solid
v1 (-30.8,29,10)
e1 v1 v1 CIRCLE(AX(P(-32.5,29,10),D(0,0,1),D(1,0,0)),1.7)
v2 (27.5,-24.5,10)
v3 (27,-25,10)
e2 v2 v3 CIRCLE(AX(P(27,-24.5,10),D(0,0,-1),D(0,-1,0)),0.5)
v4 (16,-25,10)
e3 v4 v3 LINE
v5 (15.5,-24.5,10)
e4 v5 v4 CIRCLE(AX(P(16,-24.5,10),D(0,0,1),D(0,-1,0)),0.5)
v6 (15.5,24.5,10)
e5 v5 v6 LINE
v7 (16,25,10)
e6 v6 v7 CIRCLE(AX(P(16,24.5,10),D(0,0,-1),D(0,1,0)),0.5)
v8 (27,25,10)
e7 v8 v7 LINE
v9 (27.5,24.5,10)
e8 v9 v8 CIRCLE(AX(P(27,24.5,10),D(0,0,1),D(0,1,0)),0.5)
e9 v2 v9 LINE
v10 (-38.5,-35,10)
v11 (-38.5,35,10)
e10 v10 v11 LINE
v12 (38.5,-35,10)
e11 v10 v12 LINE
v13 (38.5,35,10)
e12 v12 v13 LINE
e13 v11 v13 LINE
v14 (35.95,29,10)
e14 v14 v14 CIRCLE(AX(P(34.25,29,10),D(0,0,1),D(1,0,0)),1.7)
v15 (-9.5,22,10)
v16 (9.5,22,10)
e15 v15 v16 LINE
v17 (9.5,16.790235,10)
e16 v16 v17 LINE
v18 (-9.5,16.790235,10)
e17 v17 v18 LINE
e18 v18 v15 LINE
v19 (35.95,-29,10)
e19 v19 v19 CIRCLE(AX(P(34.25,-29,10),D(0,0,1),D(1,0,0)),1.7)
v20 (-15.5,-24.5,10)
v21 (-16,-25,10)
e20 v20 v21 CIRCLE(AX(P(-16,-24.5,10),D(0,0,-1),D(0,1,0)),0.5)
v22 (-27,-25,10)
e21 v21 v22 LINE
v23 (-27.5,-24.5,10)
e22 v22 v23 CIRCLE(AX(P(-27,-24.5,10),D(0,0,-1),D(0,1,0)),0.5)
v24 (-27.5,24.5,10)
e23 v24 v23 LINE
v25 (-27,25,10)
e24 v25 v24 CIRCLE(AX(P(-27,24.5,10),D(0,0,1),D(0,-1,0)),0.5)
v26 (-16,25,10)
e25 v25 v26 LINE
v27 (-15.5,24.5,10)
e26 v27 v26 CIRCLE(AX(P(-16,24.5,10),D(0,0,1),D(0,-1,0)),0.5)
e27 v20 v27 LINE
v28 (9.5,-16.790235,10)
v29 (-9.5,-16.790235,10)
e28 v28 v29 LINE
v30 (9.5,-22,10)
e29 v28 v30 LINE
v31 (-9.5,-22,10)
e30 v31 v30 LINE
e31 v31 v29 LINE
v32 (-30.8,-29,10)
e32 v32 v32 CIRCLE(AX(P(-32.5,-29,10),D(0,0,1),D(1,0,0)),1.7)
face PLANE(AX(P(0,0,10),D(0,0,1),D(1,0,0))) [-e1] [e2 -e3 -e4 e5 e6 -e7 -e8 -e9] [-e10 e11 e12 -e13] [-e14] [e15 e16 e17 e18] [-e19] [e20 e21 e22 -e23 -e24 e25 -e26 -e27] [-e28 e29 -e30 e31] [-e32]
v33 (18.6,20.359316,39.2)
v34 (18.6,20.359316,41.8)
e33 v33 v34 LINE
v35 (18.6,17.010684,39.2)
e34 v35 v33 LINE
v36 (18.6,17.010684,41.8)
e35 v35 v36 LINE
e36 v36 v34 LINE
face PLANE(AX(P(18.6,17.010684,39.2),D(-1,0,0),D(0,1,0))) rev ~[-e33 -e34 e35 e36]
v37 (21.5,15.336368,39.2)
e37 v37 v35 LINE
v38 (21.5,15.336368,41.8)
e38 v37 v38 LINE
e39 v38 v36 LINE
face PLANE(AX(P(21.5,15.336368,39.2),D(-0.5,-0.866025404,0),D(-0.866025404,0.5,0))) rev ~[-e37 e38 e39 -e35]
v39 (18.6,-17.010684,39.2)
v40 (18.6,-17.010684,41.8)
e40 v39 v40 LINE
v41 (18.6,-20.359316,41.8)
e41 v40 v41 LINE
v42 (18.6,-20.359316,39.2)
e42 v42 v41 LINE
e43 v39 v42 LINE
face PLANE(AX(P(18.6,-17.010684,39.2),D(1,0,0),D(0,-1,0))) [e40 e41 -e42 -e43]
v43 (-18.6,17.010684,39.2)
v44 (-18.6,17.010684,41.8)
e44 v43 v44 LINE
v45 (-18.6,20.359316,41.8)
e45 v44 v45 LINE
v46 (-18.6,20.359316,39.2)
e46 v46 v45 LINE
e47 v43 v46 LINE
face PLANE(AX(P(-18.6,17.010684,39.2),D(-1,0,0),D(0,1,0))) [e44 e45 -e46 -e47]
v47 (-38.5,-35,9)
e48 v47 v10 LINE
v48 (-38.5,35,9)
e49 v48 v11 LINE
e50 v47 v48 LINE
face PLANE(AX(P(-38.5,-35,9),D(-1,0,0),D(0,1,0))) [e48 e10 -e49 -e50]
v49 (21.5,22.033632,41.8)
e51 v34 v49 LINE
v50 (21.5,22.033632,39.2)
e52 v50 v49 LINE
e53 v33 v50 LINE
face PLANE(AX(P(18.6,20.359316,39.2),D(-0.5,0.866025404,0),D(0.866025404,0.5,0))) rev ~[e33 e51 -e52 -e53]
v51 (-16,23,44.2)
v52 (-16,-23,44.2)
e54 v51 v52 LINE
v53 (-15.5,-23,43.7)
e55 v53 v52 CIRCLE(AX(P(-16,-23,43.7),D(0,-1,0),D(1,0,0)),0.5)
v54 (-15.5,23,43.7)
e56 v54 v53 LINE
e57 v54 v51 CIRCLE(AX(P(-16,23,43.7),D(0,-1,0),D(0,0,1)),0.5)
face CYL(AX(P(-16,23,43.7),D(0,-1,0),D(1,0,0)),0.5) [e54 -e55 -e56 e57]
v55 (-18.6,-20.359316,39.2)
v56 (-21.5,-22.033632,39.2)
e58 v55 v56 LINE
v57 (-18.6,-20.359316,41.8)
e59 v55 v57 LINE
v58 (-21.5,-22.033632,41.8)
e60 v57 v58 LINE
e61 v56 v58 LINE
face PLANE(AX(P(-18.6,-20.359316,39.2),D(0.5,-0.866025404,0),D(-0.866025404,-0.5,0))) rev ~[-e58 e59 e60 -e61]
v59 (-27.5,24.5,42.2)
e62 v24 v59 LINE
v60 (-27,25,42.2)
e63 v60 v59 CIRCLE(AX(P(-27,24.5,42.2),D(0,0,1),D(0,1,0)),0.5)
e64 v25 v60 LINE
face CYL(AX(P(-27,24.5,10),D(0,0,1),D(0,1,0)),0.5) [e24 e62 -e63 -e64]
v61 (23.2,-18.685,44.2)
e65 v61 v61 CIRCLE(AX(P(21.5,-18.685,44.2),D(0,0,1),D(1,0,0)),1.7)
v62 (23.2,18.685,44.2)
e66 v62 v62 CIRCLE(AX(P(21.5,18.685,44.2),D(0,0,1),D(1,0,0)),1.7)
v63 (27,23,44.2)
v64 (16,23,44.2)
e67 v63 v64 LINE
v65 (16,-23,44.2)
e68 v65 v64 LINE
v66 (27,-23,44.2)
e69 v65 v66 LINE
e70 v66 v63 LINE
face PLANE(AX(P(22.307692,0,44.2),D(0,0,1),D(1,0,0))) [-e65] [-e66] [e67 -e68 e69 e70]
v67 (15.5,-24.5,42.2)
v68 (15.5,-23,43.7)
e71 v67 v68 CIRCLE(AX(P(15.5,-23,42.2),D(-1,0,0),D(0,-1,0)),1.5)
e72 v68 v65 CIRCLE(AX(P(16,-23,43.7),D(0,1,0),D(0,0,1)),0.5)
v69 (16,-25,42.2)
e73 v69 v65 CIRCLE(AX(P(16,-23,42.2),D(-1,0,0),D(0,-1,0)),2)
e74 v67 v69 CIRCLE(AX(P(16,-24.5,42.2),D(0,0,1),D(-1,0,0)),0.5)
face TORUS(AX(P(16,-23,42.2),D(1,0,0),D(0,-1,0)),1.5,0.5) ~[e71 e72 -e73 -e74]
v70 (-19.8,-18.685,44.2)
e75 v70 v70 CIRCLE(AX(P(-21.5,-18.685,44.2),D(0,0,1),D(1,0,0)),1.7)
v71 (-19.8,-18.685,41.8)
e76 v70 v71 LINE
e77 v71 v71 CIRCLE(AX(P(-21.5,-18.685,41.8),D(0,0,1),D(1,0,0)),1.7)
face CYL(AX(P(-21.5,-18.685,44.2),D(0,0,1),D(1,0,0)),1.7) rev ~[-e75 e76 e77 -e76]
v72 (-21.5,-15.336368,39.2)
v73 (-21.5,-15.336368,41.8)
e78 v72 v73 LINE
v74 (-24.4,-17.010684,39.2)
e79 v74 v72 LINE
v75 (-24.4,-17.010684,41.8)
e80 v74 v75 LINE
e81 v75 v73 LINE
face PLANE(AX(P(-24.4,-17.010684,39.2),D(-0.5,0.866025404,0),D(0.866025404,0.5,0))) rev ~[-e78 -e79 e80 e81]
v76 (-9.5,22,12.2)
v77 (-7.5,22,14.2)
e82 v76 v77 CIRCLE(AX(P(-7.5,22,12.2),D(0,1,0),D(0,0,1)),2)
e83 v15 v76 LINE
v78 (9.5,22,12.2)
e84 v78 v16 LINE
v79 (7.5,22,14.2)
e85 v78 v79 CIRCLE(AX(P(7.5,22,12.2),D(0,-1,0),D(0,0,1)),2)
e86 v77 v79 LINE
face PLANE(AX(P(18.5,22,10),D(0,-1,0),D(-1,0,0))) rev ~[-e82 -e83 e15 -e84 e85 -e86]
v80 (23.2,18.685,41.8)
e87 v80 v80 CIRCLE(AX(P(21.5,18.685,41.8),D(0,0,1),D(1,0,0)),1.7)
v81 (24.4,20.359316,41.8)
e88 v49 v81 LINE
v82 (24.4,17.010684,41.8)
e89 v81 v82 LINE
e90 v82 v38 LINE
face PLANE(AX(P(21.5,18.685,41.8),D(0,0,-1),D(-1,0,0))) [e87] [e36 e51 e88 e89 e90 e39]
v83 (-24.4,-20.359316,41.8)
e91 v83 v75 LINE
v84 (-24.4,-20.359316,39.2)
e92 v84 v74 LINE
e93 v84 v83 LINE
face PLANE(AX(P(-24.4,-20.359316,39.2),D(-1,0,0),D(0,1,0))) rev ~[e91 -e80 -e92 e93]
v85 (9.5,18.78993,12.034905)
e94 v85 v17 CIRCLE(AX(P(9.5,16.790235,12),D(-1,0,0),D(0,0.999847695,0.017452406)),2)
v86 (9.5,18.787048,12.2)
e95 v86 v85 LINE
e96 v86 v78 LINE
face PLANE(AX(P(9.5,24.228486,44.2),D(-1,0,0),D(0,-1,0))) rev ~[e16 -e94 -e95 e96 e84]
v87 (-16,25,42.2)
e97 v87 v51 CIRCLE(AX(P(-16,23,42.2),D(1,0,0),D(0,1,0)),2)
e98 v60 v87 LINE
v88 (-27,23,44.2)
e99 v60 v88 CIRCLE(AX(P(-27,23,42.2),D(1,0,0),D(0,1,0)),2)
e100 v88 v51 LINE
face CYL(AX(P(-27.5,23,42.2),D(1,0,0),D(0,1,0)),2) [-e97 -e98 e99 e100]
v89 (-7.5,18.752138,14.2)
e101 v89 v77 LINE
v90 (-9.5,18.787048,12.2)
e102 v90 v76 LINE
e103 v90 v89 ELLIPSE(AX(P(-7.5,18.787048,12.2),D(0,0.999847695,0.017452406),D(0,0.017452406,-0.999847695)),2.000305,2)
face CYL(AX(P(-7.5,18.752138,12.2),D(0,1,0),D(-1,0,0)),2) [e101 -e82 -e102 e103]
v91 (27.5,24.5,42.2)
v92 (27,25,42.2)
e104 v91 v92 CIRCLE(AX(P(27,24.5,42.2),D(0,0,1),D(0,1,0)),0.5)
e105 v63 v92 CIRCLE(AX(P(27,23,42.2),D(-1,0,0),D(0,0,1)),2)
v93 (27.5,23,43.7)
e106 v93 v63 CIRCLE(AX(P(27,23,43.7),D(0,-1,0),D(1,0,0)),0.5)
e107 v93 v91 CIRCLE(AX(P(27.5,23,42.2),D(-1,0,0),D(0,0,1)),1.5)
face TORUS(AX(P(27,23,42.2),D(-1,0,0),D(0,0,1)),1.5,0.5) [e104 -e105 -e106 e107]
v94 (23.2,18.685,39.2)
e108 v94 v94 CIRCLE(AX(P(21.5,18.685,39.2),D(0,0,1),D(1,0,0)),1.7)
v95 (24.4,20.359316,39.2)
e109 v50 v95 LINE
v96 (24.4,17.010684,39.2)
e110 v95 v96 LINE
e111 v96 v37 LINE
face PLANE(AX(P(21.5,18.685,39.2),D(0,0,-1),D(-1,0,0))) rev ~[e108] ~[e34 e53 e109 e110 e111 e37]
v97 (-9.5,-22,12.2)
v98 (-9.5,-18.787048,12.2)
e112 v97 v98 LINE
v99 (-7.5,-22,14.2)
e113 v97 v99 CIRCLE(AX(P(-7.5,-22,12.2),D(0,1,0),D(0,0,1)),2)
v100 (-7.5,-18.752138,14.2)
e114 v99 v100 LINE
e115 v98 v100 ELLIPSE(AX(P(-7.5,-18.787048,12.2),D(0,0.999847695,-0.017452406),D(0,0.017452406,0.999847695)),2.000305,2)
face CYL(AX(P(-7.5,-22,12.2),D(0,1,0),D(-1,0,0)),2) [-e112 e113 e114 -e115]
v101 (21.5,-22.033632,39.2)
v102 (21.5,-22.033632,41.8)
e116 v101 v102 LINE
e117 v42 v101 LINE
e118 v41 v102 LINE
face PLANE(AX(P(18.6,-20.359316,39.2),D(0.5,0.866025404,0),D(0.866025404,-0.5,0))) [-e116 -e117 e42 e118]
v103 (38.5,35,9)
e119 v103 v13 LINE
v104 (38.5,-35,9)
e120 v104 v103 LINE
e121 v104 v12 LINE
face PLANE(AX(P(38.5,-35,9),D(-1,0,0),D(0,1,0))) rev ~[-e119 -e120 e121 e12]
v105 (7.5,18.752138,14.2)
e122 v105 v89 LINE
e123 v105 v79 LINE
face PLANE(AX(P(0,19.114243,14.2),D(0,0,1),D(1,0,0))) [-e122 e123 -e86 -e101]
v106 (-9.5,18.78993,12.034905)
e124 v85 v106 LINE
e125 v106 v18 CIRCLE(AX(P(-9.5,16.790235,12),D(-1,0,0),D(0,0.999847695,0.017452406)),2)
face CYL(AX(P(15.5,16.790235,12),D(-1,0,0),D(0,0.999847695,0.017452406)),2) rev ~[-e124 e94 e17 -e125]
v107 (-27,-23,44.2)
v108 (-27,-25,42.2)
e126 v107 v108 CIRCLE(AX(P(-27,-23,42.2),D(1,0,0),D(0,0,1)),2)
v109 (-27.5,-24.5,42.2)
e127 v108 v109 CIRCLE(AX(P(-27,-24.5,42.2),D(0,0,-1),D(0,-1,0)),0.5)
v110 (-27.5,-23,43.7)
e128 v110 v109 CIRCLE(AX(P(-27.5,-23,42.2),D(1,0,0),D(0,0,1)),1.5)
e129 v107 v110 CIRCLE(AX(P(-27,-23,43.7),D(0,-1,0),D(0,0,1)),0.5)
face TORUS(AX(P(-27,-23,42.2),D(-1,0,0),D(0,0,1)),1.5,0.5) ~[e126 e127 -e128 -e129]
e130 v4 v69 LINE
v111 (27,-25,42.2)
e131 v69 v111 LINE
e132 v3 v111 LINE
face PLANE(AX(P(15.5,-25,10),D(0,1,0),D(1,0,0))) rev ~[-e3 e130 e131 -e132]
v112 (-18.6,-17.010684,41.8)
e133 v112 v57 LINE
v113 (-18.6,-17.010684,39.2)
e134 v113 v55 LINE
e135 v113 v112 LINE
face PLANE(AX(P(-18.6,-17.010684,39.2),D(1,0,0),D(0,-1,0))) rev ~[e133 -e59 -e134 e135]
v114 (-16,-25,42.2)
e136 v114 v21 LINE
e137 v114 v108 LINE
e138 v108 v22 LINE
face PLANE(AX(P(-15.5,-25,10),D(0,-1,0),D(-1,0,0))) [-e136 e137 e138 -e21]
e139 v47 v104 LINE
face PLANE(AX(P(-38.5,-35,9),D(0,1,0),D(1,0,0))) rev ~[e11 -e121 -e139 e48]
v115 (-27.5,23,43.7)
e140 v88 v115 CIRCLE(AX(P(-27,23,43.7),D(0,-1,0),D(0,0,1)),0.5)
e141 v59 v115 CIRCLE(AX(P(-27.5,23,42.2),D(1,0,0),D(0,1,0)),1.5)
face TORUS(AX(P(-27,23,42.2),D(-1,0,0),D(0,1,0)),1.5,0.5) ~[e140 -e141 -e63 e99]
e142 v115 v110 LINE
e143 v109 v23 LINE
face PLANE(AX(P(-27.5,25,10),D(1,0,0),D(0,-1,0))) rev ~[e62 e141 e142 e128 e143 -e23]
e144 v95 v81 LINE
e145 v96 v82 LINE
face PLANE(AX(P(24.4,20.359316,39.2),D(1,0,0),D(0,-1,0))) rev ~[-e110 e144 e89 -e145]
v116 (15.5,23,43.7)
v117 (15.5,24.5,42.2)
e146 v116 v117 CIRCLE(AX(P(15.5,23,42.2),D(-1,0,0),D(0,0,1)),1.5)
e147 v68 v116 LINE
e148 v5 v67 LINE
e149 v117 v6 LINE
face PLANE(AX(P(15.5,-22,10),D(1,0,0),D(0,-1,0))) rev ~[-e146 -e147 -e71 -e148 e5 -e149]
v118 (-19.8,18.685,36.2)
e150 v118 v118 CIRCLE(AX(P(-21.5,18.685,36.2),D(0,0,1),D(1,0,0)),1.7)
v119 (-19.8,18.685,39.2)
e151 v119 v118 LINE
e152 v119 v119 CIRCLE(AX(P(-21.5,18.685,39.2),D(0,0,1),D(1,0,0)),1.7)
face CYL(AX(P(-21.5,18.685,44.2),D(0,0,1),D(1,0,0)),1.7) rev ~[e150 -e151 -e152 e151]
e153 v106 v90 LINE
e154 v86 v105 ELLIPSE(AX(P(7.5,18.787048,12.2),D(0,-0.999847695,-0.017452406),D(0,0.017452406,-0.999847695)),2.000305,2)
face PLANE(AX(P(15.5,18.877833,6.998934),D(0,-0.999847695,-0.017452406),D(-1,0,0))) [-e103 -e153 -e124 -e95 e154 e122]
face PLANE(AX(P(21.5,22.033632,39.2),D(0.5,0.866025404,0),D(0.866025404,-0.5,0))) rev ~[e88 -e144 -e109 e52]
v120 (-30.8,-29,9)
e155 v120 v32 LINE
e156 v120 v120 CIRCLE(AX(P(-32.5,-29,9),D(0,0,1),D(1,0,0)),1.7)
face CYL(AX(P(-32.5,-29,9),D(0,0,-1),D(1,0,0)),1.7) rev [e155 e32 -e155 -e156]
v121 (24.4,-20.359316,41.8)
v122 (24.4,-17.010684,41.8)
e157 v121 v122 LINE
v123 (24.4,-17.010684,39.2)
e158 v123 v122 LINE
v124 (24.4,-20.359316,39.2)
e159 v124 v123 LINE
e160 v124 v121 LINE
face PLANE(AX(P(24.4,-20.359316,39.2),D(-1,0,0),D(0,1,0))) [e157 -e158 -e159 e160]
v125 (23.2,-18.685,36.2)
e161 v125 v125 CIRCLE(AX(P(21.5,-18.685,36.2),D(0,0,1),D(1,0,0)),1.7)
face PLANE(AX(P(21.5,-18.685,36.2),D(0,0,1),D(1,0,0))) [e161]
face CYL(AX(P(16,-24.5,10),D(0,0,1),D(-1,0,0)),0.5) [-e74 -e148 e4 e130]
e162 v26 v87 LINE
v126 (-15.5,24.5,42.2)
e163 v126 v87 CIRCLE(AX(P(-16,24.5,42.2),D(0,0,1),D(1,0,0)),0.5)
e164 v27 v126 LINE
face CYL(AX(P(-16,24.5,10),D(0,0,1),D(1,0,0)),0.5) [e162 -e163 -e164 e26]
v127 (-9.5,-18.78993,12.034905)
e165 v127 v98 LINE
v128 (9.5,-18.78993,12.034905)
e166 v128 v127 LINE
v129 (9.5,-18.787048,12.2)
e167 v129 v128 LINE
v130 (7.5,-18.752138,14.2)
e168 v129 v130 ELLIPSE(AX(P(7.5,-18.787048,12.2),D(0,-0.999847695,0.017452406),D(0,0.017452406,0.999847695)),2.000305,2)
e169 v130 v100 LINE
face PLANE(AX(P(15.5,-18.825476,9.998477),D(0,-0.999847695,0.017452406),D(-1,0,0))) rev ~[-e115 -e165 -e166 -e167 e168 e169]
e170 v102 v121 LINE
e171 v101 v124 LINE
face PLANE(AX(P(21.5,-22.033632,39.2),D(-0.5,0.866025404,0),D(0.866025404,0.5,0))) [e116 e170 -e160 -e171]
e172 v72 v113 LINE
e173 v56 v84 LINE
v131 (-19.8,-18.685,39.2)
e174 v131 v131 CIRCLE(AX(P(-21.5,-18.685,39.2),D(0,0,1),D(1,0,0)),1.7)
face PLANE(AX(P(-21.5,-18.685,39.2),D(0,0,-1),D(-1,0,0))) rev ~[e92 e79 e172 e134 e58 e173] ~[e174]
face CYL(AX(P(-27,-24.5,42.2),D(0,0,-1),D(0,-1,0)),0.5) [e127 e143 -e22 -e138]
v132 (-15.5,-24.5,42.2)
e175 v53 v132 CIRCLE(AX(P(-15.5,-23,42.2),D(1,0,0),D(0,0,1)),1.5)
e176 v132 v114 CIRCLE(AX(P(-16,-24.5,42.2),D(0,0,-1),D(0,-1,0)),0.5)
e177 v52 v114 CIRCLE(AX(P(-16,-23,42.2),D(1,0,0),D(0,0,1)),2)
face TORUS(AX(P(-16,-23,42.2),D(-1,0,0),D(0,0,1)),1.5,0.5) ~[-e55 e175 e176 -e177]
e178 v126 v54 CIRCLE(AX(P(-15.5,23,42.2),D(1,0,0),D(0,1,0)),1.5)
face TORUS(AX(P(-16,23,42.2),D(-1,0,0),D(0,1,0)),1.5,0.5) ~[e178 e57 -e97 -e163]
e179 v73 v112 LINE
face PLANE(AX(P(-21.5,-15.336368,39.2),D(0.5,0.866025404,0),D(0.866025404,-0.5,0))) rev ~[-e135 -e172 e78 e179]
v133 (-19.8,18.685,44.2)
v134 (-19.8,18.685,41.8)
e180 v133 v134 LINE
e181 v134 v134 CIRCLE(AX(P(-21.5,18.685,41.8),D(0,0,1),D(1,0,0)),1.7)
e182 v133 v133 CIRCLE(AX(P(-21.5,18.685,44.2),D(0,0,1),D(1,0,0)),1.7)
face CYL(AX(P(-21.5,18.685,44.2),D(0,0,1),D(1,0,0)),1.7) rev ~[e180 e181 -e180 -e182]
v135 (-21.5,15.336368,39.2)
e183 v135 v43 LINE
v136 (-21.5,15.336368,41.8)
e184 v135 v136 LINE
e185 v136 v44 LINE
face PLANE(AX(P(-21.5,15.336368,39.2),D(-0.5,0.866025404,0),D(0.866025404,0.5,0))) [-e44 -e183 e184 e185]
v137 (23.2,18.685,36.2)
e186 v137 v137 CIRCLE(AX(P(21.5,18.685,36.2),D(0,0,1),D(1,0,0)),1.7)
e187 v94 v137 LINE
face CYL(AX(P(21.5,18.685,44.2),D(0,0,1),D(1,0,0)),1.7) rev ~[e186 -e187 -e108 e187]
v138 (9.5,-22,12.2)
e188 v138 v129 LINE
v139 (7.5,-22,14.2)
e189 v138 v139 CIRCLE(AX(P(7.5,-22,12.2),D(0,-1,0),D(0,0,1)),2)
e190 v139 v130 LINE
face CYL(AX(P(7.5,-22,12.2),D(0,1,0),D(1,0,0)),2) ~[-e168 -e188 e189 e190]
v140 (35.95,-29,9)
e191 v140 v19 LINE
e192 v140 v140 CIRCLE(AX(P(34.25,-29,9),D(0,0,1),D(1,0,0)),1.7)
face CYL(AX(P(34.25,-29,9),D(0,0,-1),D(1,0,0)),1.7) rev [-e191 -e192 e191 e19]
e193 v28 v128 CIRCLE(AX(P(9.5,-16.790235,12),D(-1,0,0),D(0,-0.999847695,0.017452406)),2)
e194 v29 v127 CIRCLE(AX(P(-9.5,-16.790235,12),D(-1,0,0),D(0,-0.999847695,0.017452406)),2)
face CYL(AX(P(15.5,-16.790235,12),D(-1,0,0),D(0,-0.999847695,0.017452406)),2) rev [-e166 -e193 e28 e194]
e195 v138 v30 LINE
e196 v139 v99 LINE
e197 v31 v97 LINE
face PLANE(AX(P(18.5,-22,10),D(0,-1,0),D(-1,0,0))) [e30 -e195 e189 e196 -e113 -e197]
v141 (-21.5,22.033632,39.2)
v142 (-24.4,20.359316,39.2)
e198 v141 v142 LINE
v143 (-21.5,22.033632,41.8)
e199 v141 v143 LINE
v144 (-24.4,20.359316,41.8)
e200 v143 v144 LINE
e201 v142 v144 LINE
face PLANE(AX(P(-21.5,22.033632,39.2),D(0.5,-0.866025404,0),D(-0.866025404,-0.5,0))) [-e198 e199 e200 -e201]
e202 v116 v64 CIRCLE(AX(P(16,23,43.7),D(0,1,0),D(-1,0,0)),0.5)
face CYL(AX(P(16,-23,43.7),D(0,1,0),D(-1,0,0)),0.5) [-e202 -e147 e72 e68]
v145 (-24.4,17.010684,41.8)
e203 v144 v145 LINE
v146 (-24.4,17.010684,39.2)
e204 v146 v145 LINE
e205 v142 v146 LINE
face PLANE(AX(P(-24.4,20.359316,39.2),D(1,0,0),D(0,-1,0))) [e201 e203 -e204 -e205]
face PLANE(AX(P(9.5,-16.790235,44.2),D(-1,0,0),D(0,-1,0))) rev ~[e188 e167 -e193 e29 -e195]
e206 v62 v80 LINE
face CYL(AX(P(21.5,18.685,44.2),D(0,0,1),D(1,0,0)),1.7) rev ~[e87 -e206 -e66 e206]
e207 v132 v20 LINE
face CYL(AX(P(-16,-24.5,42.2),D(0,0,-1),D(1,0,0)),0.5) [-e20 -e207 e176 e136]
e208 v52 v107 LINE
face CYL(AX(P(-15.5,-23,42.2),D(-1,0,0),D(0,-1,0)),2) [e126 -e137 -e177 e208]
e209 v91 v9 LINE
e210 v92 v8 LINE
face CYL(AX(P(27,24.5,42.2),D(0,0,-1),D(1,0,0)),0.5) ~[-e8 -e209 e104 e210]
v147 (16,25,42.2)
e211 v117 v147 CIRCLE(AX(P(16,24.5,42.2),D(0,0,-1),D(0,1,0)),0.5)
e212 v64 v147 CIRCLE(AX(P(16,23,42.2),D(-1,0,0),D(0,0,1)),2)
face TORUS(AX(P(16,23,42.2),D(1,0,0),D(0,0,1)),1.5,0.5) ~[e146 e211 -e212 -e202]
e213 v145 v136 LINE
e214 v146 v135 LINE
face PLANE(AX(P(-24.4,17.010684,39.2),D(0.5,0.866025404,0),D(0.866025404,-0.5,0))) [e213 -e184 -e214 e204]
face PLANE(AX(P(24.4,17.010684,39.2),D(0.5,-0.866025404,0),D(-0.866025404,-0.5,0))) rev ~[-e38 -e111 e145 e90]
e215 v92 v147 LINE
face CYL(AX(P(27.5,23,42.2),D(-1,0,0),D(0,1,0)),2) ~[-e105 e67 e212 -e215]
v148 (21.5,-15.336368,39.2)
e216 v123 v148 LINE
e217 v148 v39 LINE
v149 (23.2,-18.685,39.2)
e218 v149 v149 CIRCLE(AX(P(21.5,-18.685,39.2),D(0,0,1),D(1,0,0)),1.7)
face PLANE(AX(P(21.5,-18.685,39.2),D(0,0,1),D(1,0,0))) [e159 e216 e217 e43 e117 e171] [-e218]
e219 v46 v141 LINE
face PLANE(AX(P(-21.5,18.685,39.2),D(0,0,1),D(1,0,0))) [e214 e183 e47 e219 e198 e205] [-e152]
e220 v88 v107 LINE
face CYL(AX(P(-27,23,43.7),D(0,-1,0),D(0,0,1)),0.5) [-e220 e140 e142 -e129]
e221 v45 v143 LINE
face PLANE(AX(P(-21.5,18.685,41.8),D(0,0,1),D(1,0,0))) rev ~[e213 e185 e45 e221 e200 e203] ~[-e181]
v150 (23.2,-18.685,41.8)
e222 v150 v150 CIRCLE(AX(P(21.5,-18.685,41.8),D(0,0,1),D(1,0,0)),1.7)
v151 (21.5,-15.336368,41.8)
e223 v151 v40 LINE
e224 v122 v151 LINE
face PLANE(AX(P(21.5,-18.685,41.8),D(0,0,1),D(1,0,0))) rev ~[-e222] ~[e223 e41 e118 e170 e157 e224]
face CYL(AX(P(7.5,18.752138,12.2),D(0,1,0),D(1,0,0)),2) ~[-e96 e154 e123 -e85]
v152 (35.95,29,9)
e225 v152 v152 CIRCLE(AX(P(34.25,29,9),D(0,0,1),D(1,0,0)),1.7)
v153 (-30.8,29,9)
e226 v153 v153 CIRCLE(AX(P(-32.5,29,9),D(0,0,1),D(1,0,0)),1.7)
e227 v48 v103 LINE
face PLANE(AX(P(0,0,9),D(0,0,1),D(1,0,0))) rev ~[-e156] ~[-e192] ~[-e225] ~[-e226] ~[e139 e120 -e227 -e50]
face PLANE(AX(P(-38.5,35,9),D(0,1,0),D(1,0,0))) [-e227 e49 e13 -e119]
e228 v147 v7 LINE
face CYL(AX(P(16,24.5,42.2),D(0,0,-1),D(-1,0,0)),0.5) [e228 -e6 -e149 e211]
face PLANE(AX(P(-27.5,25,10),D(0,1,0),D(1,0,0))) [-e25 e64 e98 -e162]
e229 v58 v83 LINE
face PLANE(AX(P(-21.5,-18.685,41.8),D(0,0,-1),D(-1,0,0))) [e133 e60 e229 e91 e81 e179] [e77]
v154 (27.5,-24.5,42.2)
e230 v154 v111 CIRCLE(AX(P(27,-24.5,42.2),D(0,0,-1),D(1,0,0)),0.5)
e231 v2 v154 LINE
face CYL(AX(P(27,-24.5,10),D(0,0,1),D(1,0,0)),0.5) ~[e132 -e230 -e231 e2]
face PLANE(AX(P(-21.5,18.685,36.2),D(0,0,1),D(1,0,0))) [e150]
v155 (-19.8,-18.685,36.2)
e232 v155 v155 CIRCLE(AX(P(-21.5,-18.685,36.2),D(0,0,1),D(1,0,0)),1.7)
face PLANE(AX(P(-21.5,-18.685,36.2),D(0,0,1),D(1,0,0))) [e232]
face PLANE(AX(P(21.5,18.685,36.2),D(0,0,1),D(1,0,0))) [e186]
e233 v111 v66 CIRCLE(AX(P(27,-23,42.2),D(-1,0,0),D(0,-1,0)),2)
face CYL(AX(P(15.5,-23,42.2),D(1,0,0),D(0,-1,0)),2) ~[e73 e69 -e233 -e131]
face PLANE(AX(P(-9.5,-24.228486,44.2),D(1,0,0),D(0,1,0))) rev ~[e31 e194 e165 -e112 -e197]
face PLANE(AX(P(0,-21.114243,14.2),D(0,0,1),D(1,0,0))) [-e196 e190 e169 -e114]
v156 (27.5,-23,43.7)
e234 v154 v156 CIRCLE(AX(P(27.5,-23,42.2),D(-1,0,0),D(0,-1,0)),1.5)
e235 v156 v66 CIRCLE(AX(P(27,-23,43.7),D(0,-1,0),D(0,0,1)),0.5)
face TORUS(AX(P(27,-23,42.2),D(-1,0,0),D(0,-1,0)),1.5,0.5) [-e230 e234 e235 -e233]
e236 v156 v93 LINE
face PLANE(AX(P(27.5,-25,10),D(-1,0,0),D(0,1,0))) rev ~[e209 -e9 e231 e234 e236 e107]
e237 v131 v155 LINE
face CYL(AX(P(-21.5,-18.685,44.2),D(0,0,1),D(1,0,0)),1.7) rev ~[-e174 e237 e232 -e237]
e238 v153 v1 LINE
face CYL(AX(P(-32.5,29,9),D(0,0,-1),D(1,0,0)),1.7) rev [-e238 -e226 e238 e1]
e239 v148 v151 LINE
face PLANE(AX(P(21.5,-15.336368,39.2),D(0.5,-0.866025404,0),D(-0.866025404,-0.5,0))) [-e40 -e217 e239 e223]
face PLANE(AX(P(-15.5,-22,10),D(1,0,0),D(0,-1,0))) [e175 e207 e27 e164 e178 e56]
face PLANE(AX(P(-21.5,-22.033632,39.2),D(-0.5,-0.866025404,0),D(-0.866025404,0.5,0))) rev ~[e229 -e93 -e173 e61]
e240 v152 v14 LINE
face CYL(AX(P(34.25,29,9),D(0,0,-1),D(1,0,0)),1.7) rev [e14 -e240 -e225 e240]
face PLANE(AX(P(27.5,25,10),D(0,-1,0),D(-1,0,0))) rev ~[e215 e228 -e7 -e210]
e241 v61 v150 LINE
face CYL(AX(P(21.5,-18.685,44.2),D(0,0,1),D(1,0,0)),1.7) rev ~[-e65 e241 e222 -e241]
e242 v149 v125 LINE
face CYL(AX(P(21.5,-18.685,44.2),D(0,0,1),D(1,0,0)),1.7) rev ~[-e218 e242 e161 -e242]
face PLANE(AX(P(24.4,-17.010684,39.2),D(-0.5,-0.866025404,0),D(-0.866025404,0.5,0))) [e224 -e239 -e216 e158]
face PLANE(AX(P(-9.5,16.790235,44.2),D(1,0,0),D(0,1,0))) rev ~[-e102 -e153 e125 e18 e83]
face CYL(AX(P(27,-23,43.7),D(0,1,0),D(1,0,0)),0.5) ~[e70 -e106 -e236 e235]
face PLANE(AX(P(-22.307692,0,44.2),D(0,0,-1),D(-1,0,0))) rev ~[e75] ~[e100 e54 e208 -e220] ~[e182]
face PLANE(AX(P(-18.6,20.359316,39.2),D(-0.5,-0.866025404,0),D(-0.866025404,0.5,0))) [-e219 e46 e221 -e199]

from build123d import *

# Parameters (mm, degrees)
MOUNT_BASE_DEPTH               = 10
SKETCH_8_W                     = 38
SKETCH_8_H                     = 31
CUT_BASE_DEPTH                 = 34
SKETCH10_W                     = 3
SKETCH10_H                     = 31
BEND_SIDES_DEPTH               = 34.2
SKETCH16_W                     = 44
SKETCH16_H                     = 3
WIRE_SIDES_DEPTH               = 34.2
DRAFT9_ANGLE                   = 1
DRAFT10_ANGLE                  = 1
DIFFERENTIAL_CLAMP_DEPTH       = 10
DIFFERENTIAL_CLAMP_DEPTH_BACK  = 8.6
DIFFERENTIAL_BAR_CUT_DEPTH     = 3.6
STRUCTURAL_SCREW_W_HEADS_DEPTH = 5
SKETCH25_R                     = 1.7
SCREW_HOLES_DEPTH              = 24
NUT_HOLE_DEPTH                 = 2.6
FILLET7_R                      = 2
FILLET8_R                      = 2
FILLET9_R                      = 2
FILLET10_R                     = 2
FILLET15_R                     = 2
BOSS_EXTRUDE1_DEPTH            = 17.6
CUT_EXTRUDE6_DEPTH             = 8.6
SKETCH48_W                     = 74
SKETCH48_H                     = 70
CUT_EXTRUDE9_DEPTH             = 17.6
SKETCH49_W                     = 77
SKETCH49_H                     = 70
BOSS_EXTRUDE2_DEPTH            = 1
SKETCH50_R                     = 1.7
CUT_EXTRUDE10_DEPTH            = 1
CUT_EXTRUDE12_DEPTH            = 34.2
SKETCH53_W                     = 19
SKETCH53_H                     = 5.77151387
CUT_EXTRUDE13_DEPTH            = 30
FILLET17_R                     = 2
BOSS_EXTRUDE3_DEPTH            = 34.2
CUT_EXTRUDE14_DEPTH            = 2.6
SKETCH56_R                     = 1.7
CUT_EXTRUDE15_DEPTH            = 8
FILLET18_R                     = 2
FILLET20_R                     = 0.5


with BuildPart() as part:
    # Sketch6 → Mount Base (new body)
    with BuildSketch(Plane(origin=(0, 0, 0), x_dir=(0, 1, 0), z_dir=(0, 0, 1))):
        Polygon((-30, -26.5), (-30, -31.5), (30, -31.5), (30, -26.5), (30, 26.5), (-30, 26.5), align=None)
    extrude(amount=MOUNT_BASE_DEPTH)

    # Sketch 8 → Cut-Base (cut)
    with BuildSketch(Plane(origin=(0, 0, 7), x_dir=(0, 1, 0), z_dir=(0, 0, 1))):
        Rectangle(SKETCH_8_W, SKETCH_8_H)
    extrude(amount=CUT_BASE_DEPTH, mode=Mode.SUBTRACT)

    # Sketch10 → Bend Sides (add)
    with BuildSketch(Plane(origin=(0, 0, 10), x_dir=(0, 1, 0), z_dir=(0, 0, 1))):
        with Locations((-20.5, 0)):
            Rectangle(SKETCH10_W, SKETCH10_H)
        with Locations((20.5, 0)):
            Rectangle(SKETCH10_W, SKETCH10_H)
    extrude(amount=BEND_SIDES_DEPTH)

    # Sketch16 → Wire Sides (add)
    with BuildSketch(Plane(origin=(0, 0, 10), x_dir=(0, 1, 0), z_dir=(0, 0, 1))):
        with Locations((0, -17)):
            Rectangle(SKETCH16_W, SKETCH16_H)
        with Locations((0, 17)):
            Rectangle(SKETCH16_W, SKETCH16_H)
    extrude(amount=WIRE_SIDES_DEPTH)

    # Draft9
    draft9_faces = [part.faces().sort_by_distance(p)[0] for p in [
        (0, -19, 25.6),
    ]]
    draft(draft9_faces, Plane(origin=(0, 0, 0), x_dir=(-1, 0, 0), z_dir=(0, 0, -1)), DRAFT9_ANGLE)

    # Draft10
    draft10_faces = [part.faces().sort_by_distance(p)[0] for p in [
        (0, 19, 25.6),
    ]]
    draft(draft10_faces, Plane(origin=(0, 0, 0), x_dir=(-1, 0, 0), z_dir=(0, 0, -1)), DRAFT10_ANGLE)

    # Sketch20 → Differential Clamp (add, two sides)
    with BuildSketch(Plane(origin=(0, 0, 0), x_dir=(0, 1, 0), z_dir=(0, 0, 1))) as differential_clamp_sk:
        Polygon((-30, 37), (-30, 26.5), (-30, -37), (30, -37), (30, 27), (30, 37), align=None)
    extrude(amount=DIFFERENTIAL_CLAMP_DEPTH)
    extrude(differential_clamp_sk.sketch, amount=-DIFFERENTIAL_CLAMP_DEPTH_BACK)

    # Sketch22 → Differential Bar cut (cut)
    with BuildSketch(Plane(origin=(0, 0, 0), x_dir=(0, 1, 0), z_dir=(0, 0, 1))):
        Polygon((-86.956180584, -24.693764348), (0, -30.5), (86.956180584, -24.693764348), (86.956180584, 37), (30, 37), (-30, 37), (-86.956180584, 37), align=None)
    extrude(amount=-DIFFERENTIAL_BAR_CUT_DEPTH, mode=Mode.SUBTRACT)

    # Sketch 7 → Structural Screw w/ heads (cut)
    with BuildSketch(Plane(origin=(0, 0, 0), x_dir=(0, 1, 0), z_dir=(0, 0, 1))):
        with BuildLine():
            Line((-22.42, 37.163783556), (-22.42, -19.42))
            ThreePointArc((-22.42, -19.42), (-19.42, -22.42), (-16.42, -19.42))
            Line((-16.42, -19.42), (-16.42, 37.163783556))
            Line((-16.42, 37.163783556), (-22.42, 37.163783556))
        make_face()
        with BuildLine():
            Line((16.42, -19.42), (16.42, 37.161181528))
            Line((16.42, 37.161181528), (22.42, 37.161181528))
            Line((22.42, 37.161181528), (22.42, -19.42))
            ThreePointArc((22.42, -19.42), (19.42, -22.42), (16.42, -19.42))
        make_face()
        with BuildLine():
            Line((-3, 37.161181528), (3, 37.161181528))
            Line((3, 37.161181528), (3, -10.32))
            ThreePointArc((3, -10.32), (0, -13.32), (-3, -10.32))
            Line((-3, -10.32), (-3, 37.161181528))
        make_face()
    extrude(amount=STRUCTURAL_SCREW_W_HEADS_DEPTH, mode=Mode.SUBTRACT)

    # Sketch25 → Screw holes (cut)
    with BuildSketch(Plane.XY.offset(10)):
        with Locations((-32, 29)):
            Circle(SKETCH25_R)
        with Locations((-32, -29)):
            Circle(SKETCH25_R)
        with Locations((32, -29)):
            Circle(SKETCH25_R)
        with Locations((32, 29)):
            Circle(SKETCH25_R)
    extrude(amount=-SCREW_HOLES_DEPTH, mode=Mode.SUBTRACT)

    # Sketch27 → Nut hole (cut)
    with BuildSketch(Plane(origin=(0, 0, -8.6), x_dir=(-1, 0, 0), z_dir=(0, 0, -1))):
        Polygon((31.935113153, 25.709743217), (34.817002535, 27.29867795), (34.881889383, 30.588934733), (32.064886847, 32.290256783), (29.182997465, 30.70132205), (29.118110617, 27.411065267), align=None)
        Polygon((28.709103466, -29), (30.354551733, -31.85), (33.645448267, -31.85), (35.290896534, -29), (33.645448267, -26.15), (30.354551733, -26.15), align=None)
        Polygon((-30.354551733, -26.15), (-28.709103466, -29), (-30.354551733, -31.85), (-33.645448267, -31.85), (-35.290896534, -29), (-33.645448267, -26.15), align=None)
        Polygon((-29.118110617, 27.411065267), (-31.935113153, 25.709743217), (-34.817002535, 27.29867795), (-34.881889383, 30.588934733), (-32.064886847, 32.290256783), (-29.182997465, 30.70132205), align=None)
    extrude(amount=-NUT_HOLE_DEPTH, mode=Mode.SUBTRACT)

    # Fillet7
    fillet7_edges = [part.edges().sort_by_distance(p)[0] for p in [
        (-37, 30, 5),
    ]]
    fillet(fillet7_edges, radius=FILLET7_R)

    # Fillet8
    fillet8_edges = [part.edges().sort_by_distance(p)[0] for p in [
        (-37, -30, 5),
    ]]
    fillet(fillet8_edges, radius=FILLET8_R)

    # Fillet9
    fillet9_edges = [part.edges().sort_by_distance(p)[0] for p in [
        (-37, 30, -6.1),
    ]]
    fillet(fillet9_edges, radius=FILLET9_R)

    # Fillet10
    fillet10_edges = [part.edges().sort_by_distance(p)[0] for p in [
        (-37, -30, -6.1),
    ]]
    fillet(fillet10_edges, radius=FILLET10_R)

    # Fillet15
    fillet15_edges = [part.edges().sort_by_distance(p)[0] for p in [
        (0, 18.825449351, 10),
        (0, -18.825449351, 10),
    ]]
    fillet(fillet15_edges, radius=FILLET15_R)

    # Sketch42 → Boss-Extrude1 (add)
    with BuildSketch(Plane.XY.offset(-8.6)):
        Polygon((37, 35), (-37, 35), (-37, 23), (28.5, 23), (28.5, -23), (-37, -23), (-37, -35), (37, -35), align=None)
    extrude(amount=BOSS_EXTRUDE1_DEPTH)

    # Sketch43 → Cut-Extrude6 (cut)
    with BuildSketch(Plane(origin=(0, 0, 0), x_dir=(-1, 0, 0), z_dir=(0, 0, -1))):
        Polygon((-24.693764348, 86.956180584), (37, 86.956180584), (37, -86.956180584), (-24.693764348, -86.956180584), (-30.5, 0), align=None)
    extrude(amount=CUT_EXTRUDE6_DEPTH, mode=Mode.SUBTRACT)

    # Sketch48 → Cut-Extrude9 (cut)
    with BuildSketch(Plane.XY.offset(9)):
        Rectangle(SKETCH48_W, SKETCH48_H)
    extrude(amount=-CUT_EXTRUDE9_DEPTH, mode=Mode.SUBTRACT)

    # Sketch49 → Boss-Extrude2 (add)
    with BuildSketch(Plane.XY.offset(9)):
        Rectangle(SKETCH49_W, SKETCH49_H)
    extrude(amount=BOSS_EXTRUDE2_DEPTH)

    # Sketch50 → Cut-Extrude10 (cut)
    with BuildSketch(Plane.XY.offset(9)):
        with Locations((-32.5, 29)):
            Circle(SKETCH50_R)
        with Locations((34.25, 29)):
            Circle(SKETCH50_R)
        with Locations((34.25, -29)):
            Circle(SKETCH50_R)
        with Locations((-32.5, -29)):
            Circle(SKETCH50_R)
    extrude(amount=CUT_EXTRUDE10_DEPTH, mode=Mode.SUBTRACT)

    # Sketch52 → Cut-Extrude12 (cut)
    with BuildSketch(Plane.XY.offset(44.2)):
        Polygon((-15.5, 24.22848613), (-9.5, 24.22848613), (-9.5, 18.22848613), (-9.5, 16.790234565), (-15.5, 16.790234565), (-15.5, 18.22848613), align=None)
        Polygon((15.5, 18.22848613), (15.5, 16.790234565), (9.5, 16.790234565), (9.5, 18.22848613), (9.5, 24.22848613), (15.5, 24.22848613), align=None)
        Polygon((15.5, -18.22848613), (15.5, -24.22848613), (9.5, -24.22848613), (9.5, -18.22848613), (9.5, -16.790234565), (15.5, -16.790234565), align=None)
        Polygon((-15.5, -18.22848613), (-15.5, -16.790234565), (-9.5, -16.790234565), (-9.5, -18.22848613), (-9.5, -24.22848613), (-15.5, -24.22848613), align=None)
    extrude(amount=-CUT_EXTRUDE12_DEPTH, mode=Mode.SUBTRACT)

    # Sketch53 → Cut-Extrude13 (cut)
    with BuildSketch(Plane.XY.offset(44.2)):
        with Locations((0, -21.114243065)):
            Rectangle(SKETCH53_W, SKETCH53_H)
        with Locations((0, 19.114243065)):
            Rectangle(SKETCH53_W, SKETCH53_H)
    extrude(amount=-CUT_EXTRUDE13_DEPTH, mode=Mode.SUBTRACT)

    # Fillet17
    fillet17_edges = [part.edges().sort_by_distance(p)[0] for p in [
        (-9.5, -20.376069039, 14.2),
    ]]
    fillet(fillet17_edges, radius=FILLET17_R)

    # Sketch55 → Boss-Extrude3 (add)
    with BuildSketch(Plane.XY.offset(10)):
        Polygon((-18.5, 22), (-18.5, -22), (-15.5, -22), (-15.5, -25), (-27.5, -25), (-27.5, -22), (-27.5, 22), (-27.5, 25), (-15.5, 25), (-15.5, 22), align=None)
        Polygon((18.5, 22), (18.5, -22), (15.5, -22), (15.5, -25), (27.5, -25), (27.5, -22), (27.5, 22), (27.5, 25), (15.5, 25), (15.5, 22), align=None)
    extrude(amount=BOSS_EXTRUDE3_DEPTH)

    # Sketch54 → Cut-Extrude14 (cut)
    with BuildSketch(Plane.XY.offset(39.2)):
        Polygon((24.4, 20.359315781), (24.4, 17.010684219), (21.5, 15.336368439), (18.6, 17.010684219), (18.6, 20.359315781), (21.5, 22.033631561), align=None)
        Polygon((-24.4, 17.010684219), (-21.5, 15.336368439), (-18.6, 17.010684219), (-18.6, 20.359315781), (-21.5, 22.033631561), (-24.4, 20.359315781), align=None)
        Polygon((21.5, -22.033631561), (24.4, -20.359315781), (24.4, -17.010684219), (21.5, -15.336368439), (18.6, -17.010684219), (18.6, -20.359315781), align=None)
        Polygon((-24.4, -20.359315781), (-24.4, -17.010684219), (-21.5, -15.336368439), (-18.6, -17.010684219), (-18.6, -20.359315781), (-21.5, -22.033631561), align=None)
    extrude(amount=CUT_EXTRUDE14_DEPTH, mode=Mode.SUBTRACT)

    # Sketch56 → Cut-Extrude15 (cut)
    with BuildSketch(Plane.XY.offset(44.2)):
        with Locations((-21.5, 18.685)):
            Circle(SKETCH56_R)
        with Locations((21.5, 18.685)):
            Circle(SKETCH56_R)
        with Locations((21.5, -18.685)):
            Circle(SKETCH56_R)
        with Locations((-21.5, -18.685)):
            Circle(SKETCH56_R)
    extrude(amount=-CUT_EXTRUDE15_DEPTH, mode=Mode.SUBTRACT)

    # Fillet18
    fillet18_edges = [part.edges().sort_by_distance(p)[0] for p in [
        (9.5, -20.376069039, 14.2),
        (-9.5, 20.376069039, 14.2),
        (9.5, 20.376069039, 14.2),
        (-21.5, 25, 44.2),
        (-21.5, -25, 44.2),
        (21.5, -25, 44.2),
        (21.5, 25, 44.2),
    ]]
    fillet(fillet18_edges, radius=FILLET18_R)

    # Fillet20
    fillet20_edges = [part.edges().sort_by_distance(p)[0] for p in [
        (-27.5, 0, 44.2),
        (-27.5, -25, 26.1),
        (-27.5, 25, 26.1),
        (-27.5, -24.414213562, 43.614213562),
        (-27.5, 24.414213562, 43.614213562),
        (-15.5, 25, 26.1),
        (-15.5, -25, 26.1),
        (-15.5, -24.414213562, 43.614213562),
        (-15.5, 24.414213562, 43.614213562),
        (15.5, 0, 44.2),
        (27.5, 0, 44.2),
        (27.5, 25, 26.1),
        (27.5, -25, 26.1),
        (27.5, 24.414213562, 43.614213562),
        (27.5, -24.414213562, 43.614213562),
        (15.5, -25, 26.1),
        (15.5, 25, 26.1),
        (15.5, 24.414213562, 43.614213562),
        (15.5, -24.414213562, 43.614213562),
        (-15.5, 0, 44.2),
    ]]
    fillet(fillet20_edges, radius=FILLET20_R)


solid = part.part
